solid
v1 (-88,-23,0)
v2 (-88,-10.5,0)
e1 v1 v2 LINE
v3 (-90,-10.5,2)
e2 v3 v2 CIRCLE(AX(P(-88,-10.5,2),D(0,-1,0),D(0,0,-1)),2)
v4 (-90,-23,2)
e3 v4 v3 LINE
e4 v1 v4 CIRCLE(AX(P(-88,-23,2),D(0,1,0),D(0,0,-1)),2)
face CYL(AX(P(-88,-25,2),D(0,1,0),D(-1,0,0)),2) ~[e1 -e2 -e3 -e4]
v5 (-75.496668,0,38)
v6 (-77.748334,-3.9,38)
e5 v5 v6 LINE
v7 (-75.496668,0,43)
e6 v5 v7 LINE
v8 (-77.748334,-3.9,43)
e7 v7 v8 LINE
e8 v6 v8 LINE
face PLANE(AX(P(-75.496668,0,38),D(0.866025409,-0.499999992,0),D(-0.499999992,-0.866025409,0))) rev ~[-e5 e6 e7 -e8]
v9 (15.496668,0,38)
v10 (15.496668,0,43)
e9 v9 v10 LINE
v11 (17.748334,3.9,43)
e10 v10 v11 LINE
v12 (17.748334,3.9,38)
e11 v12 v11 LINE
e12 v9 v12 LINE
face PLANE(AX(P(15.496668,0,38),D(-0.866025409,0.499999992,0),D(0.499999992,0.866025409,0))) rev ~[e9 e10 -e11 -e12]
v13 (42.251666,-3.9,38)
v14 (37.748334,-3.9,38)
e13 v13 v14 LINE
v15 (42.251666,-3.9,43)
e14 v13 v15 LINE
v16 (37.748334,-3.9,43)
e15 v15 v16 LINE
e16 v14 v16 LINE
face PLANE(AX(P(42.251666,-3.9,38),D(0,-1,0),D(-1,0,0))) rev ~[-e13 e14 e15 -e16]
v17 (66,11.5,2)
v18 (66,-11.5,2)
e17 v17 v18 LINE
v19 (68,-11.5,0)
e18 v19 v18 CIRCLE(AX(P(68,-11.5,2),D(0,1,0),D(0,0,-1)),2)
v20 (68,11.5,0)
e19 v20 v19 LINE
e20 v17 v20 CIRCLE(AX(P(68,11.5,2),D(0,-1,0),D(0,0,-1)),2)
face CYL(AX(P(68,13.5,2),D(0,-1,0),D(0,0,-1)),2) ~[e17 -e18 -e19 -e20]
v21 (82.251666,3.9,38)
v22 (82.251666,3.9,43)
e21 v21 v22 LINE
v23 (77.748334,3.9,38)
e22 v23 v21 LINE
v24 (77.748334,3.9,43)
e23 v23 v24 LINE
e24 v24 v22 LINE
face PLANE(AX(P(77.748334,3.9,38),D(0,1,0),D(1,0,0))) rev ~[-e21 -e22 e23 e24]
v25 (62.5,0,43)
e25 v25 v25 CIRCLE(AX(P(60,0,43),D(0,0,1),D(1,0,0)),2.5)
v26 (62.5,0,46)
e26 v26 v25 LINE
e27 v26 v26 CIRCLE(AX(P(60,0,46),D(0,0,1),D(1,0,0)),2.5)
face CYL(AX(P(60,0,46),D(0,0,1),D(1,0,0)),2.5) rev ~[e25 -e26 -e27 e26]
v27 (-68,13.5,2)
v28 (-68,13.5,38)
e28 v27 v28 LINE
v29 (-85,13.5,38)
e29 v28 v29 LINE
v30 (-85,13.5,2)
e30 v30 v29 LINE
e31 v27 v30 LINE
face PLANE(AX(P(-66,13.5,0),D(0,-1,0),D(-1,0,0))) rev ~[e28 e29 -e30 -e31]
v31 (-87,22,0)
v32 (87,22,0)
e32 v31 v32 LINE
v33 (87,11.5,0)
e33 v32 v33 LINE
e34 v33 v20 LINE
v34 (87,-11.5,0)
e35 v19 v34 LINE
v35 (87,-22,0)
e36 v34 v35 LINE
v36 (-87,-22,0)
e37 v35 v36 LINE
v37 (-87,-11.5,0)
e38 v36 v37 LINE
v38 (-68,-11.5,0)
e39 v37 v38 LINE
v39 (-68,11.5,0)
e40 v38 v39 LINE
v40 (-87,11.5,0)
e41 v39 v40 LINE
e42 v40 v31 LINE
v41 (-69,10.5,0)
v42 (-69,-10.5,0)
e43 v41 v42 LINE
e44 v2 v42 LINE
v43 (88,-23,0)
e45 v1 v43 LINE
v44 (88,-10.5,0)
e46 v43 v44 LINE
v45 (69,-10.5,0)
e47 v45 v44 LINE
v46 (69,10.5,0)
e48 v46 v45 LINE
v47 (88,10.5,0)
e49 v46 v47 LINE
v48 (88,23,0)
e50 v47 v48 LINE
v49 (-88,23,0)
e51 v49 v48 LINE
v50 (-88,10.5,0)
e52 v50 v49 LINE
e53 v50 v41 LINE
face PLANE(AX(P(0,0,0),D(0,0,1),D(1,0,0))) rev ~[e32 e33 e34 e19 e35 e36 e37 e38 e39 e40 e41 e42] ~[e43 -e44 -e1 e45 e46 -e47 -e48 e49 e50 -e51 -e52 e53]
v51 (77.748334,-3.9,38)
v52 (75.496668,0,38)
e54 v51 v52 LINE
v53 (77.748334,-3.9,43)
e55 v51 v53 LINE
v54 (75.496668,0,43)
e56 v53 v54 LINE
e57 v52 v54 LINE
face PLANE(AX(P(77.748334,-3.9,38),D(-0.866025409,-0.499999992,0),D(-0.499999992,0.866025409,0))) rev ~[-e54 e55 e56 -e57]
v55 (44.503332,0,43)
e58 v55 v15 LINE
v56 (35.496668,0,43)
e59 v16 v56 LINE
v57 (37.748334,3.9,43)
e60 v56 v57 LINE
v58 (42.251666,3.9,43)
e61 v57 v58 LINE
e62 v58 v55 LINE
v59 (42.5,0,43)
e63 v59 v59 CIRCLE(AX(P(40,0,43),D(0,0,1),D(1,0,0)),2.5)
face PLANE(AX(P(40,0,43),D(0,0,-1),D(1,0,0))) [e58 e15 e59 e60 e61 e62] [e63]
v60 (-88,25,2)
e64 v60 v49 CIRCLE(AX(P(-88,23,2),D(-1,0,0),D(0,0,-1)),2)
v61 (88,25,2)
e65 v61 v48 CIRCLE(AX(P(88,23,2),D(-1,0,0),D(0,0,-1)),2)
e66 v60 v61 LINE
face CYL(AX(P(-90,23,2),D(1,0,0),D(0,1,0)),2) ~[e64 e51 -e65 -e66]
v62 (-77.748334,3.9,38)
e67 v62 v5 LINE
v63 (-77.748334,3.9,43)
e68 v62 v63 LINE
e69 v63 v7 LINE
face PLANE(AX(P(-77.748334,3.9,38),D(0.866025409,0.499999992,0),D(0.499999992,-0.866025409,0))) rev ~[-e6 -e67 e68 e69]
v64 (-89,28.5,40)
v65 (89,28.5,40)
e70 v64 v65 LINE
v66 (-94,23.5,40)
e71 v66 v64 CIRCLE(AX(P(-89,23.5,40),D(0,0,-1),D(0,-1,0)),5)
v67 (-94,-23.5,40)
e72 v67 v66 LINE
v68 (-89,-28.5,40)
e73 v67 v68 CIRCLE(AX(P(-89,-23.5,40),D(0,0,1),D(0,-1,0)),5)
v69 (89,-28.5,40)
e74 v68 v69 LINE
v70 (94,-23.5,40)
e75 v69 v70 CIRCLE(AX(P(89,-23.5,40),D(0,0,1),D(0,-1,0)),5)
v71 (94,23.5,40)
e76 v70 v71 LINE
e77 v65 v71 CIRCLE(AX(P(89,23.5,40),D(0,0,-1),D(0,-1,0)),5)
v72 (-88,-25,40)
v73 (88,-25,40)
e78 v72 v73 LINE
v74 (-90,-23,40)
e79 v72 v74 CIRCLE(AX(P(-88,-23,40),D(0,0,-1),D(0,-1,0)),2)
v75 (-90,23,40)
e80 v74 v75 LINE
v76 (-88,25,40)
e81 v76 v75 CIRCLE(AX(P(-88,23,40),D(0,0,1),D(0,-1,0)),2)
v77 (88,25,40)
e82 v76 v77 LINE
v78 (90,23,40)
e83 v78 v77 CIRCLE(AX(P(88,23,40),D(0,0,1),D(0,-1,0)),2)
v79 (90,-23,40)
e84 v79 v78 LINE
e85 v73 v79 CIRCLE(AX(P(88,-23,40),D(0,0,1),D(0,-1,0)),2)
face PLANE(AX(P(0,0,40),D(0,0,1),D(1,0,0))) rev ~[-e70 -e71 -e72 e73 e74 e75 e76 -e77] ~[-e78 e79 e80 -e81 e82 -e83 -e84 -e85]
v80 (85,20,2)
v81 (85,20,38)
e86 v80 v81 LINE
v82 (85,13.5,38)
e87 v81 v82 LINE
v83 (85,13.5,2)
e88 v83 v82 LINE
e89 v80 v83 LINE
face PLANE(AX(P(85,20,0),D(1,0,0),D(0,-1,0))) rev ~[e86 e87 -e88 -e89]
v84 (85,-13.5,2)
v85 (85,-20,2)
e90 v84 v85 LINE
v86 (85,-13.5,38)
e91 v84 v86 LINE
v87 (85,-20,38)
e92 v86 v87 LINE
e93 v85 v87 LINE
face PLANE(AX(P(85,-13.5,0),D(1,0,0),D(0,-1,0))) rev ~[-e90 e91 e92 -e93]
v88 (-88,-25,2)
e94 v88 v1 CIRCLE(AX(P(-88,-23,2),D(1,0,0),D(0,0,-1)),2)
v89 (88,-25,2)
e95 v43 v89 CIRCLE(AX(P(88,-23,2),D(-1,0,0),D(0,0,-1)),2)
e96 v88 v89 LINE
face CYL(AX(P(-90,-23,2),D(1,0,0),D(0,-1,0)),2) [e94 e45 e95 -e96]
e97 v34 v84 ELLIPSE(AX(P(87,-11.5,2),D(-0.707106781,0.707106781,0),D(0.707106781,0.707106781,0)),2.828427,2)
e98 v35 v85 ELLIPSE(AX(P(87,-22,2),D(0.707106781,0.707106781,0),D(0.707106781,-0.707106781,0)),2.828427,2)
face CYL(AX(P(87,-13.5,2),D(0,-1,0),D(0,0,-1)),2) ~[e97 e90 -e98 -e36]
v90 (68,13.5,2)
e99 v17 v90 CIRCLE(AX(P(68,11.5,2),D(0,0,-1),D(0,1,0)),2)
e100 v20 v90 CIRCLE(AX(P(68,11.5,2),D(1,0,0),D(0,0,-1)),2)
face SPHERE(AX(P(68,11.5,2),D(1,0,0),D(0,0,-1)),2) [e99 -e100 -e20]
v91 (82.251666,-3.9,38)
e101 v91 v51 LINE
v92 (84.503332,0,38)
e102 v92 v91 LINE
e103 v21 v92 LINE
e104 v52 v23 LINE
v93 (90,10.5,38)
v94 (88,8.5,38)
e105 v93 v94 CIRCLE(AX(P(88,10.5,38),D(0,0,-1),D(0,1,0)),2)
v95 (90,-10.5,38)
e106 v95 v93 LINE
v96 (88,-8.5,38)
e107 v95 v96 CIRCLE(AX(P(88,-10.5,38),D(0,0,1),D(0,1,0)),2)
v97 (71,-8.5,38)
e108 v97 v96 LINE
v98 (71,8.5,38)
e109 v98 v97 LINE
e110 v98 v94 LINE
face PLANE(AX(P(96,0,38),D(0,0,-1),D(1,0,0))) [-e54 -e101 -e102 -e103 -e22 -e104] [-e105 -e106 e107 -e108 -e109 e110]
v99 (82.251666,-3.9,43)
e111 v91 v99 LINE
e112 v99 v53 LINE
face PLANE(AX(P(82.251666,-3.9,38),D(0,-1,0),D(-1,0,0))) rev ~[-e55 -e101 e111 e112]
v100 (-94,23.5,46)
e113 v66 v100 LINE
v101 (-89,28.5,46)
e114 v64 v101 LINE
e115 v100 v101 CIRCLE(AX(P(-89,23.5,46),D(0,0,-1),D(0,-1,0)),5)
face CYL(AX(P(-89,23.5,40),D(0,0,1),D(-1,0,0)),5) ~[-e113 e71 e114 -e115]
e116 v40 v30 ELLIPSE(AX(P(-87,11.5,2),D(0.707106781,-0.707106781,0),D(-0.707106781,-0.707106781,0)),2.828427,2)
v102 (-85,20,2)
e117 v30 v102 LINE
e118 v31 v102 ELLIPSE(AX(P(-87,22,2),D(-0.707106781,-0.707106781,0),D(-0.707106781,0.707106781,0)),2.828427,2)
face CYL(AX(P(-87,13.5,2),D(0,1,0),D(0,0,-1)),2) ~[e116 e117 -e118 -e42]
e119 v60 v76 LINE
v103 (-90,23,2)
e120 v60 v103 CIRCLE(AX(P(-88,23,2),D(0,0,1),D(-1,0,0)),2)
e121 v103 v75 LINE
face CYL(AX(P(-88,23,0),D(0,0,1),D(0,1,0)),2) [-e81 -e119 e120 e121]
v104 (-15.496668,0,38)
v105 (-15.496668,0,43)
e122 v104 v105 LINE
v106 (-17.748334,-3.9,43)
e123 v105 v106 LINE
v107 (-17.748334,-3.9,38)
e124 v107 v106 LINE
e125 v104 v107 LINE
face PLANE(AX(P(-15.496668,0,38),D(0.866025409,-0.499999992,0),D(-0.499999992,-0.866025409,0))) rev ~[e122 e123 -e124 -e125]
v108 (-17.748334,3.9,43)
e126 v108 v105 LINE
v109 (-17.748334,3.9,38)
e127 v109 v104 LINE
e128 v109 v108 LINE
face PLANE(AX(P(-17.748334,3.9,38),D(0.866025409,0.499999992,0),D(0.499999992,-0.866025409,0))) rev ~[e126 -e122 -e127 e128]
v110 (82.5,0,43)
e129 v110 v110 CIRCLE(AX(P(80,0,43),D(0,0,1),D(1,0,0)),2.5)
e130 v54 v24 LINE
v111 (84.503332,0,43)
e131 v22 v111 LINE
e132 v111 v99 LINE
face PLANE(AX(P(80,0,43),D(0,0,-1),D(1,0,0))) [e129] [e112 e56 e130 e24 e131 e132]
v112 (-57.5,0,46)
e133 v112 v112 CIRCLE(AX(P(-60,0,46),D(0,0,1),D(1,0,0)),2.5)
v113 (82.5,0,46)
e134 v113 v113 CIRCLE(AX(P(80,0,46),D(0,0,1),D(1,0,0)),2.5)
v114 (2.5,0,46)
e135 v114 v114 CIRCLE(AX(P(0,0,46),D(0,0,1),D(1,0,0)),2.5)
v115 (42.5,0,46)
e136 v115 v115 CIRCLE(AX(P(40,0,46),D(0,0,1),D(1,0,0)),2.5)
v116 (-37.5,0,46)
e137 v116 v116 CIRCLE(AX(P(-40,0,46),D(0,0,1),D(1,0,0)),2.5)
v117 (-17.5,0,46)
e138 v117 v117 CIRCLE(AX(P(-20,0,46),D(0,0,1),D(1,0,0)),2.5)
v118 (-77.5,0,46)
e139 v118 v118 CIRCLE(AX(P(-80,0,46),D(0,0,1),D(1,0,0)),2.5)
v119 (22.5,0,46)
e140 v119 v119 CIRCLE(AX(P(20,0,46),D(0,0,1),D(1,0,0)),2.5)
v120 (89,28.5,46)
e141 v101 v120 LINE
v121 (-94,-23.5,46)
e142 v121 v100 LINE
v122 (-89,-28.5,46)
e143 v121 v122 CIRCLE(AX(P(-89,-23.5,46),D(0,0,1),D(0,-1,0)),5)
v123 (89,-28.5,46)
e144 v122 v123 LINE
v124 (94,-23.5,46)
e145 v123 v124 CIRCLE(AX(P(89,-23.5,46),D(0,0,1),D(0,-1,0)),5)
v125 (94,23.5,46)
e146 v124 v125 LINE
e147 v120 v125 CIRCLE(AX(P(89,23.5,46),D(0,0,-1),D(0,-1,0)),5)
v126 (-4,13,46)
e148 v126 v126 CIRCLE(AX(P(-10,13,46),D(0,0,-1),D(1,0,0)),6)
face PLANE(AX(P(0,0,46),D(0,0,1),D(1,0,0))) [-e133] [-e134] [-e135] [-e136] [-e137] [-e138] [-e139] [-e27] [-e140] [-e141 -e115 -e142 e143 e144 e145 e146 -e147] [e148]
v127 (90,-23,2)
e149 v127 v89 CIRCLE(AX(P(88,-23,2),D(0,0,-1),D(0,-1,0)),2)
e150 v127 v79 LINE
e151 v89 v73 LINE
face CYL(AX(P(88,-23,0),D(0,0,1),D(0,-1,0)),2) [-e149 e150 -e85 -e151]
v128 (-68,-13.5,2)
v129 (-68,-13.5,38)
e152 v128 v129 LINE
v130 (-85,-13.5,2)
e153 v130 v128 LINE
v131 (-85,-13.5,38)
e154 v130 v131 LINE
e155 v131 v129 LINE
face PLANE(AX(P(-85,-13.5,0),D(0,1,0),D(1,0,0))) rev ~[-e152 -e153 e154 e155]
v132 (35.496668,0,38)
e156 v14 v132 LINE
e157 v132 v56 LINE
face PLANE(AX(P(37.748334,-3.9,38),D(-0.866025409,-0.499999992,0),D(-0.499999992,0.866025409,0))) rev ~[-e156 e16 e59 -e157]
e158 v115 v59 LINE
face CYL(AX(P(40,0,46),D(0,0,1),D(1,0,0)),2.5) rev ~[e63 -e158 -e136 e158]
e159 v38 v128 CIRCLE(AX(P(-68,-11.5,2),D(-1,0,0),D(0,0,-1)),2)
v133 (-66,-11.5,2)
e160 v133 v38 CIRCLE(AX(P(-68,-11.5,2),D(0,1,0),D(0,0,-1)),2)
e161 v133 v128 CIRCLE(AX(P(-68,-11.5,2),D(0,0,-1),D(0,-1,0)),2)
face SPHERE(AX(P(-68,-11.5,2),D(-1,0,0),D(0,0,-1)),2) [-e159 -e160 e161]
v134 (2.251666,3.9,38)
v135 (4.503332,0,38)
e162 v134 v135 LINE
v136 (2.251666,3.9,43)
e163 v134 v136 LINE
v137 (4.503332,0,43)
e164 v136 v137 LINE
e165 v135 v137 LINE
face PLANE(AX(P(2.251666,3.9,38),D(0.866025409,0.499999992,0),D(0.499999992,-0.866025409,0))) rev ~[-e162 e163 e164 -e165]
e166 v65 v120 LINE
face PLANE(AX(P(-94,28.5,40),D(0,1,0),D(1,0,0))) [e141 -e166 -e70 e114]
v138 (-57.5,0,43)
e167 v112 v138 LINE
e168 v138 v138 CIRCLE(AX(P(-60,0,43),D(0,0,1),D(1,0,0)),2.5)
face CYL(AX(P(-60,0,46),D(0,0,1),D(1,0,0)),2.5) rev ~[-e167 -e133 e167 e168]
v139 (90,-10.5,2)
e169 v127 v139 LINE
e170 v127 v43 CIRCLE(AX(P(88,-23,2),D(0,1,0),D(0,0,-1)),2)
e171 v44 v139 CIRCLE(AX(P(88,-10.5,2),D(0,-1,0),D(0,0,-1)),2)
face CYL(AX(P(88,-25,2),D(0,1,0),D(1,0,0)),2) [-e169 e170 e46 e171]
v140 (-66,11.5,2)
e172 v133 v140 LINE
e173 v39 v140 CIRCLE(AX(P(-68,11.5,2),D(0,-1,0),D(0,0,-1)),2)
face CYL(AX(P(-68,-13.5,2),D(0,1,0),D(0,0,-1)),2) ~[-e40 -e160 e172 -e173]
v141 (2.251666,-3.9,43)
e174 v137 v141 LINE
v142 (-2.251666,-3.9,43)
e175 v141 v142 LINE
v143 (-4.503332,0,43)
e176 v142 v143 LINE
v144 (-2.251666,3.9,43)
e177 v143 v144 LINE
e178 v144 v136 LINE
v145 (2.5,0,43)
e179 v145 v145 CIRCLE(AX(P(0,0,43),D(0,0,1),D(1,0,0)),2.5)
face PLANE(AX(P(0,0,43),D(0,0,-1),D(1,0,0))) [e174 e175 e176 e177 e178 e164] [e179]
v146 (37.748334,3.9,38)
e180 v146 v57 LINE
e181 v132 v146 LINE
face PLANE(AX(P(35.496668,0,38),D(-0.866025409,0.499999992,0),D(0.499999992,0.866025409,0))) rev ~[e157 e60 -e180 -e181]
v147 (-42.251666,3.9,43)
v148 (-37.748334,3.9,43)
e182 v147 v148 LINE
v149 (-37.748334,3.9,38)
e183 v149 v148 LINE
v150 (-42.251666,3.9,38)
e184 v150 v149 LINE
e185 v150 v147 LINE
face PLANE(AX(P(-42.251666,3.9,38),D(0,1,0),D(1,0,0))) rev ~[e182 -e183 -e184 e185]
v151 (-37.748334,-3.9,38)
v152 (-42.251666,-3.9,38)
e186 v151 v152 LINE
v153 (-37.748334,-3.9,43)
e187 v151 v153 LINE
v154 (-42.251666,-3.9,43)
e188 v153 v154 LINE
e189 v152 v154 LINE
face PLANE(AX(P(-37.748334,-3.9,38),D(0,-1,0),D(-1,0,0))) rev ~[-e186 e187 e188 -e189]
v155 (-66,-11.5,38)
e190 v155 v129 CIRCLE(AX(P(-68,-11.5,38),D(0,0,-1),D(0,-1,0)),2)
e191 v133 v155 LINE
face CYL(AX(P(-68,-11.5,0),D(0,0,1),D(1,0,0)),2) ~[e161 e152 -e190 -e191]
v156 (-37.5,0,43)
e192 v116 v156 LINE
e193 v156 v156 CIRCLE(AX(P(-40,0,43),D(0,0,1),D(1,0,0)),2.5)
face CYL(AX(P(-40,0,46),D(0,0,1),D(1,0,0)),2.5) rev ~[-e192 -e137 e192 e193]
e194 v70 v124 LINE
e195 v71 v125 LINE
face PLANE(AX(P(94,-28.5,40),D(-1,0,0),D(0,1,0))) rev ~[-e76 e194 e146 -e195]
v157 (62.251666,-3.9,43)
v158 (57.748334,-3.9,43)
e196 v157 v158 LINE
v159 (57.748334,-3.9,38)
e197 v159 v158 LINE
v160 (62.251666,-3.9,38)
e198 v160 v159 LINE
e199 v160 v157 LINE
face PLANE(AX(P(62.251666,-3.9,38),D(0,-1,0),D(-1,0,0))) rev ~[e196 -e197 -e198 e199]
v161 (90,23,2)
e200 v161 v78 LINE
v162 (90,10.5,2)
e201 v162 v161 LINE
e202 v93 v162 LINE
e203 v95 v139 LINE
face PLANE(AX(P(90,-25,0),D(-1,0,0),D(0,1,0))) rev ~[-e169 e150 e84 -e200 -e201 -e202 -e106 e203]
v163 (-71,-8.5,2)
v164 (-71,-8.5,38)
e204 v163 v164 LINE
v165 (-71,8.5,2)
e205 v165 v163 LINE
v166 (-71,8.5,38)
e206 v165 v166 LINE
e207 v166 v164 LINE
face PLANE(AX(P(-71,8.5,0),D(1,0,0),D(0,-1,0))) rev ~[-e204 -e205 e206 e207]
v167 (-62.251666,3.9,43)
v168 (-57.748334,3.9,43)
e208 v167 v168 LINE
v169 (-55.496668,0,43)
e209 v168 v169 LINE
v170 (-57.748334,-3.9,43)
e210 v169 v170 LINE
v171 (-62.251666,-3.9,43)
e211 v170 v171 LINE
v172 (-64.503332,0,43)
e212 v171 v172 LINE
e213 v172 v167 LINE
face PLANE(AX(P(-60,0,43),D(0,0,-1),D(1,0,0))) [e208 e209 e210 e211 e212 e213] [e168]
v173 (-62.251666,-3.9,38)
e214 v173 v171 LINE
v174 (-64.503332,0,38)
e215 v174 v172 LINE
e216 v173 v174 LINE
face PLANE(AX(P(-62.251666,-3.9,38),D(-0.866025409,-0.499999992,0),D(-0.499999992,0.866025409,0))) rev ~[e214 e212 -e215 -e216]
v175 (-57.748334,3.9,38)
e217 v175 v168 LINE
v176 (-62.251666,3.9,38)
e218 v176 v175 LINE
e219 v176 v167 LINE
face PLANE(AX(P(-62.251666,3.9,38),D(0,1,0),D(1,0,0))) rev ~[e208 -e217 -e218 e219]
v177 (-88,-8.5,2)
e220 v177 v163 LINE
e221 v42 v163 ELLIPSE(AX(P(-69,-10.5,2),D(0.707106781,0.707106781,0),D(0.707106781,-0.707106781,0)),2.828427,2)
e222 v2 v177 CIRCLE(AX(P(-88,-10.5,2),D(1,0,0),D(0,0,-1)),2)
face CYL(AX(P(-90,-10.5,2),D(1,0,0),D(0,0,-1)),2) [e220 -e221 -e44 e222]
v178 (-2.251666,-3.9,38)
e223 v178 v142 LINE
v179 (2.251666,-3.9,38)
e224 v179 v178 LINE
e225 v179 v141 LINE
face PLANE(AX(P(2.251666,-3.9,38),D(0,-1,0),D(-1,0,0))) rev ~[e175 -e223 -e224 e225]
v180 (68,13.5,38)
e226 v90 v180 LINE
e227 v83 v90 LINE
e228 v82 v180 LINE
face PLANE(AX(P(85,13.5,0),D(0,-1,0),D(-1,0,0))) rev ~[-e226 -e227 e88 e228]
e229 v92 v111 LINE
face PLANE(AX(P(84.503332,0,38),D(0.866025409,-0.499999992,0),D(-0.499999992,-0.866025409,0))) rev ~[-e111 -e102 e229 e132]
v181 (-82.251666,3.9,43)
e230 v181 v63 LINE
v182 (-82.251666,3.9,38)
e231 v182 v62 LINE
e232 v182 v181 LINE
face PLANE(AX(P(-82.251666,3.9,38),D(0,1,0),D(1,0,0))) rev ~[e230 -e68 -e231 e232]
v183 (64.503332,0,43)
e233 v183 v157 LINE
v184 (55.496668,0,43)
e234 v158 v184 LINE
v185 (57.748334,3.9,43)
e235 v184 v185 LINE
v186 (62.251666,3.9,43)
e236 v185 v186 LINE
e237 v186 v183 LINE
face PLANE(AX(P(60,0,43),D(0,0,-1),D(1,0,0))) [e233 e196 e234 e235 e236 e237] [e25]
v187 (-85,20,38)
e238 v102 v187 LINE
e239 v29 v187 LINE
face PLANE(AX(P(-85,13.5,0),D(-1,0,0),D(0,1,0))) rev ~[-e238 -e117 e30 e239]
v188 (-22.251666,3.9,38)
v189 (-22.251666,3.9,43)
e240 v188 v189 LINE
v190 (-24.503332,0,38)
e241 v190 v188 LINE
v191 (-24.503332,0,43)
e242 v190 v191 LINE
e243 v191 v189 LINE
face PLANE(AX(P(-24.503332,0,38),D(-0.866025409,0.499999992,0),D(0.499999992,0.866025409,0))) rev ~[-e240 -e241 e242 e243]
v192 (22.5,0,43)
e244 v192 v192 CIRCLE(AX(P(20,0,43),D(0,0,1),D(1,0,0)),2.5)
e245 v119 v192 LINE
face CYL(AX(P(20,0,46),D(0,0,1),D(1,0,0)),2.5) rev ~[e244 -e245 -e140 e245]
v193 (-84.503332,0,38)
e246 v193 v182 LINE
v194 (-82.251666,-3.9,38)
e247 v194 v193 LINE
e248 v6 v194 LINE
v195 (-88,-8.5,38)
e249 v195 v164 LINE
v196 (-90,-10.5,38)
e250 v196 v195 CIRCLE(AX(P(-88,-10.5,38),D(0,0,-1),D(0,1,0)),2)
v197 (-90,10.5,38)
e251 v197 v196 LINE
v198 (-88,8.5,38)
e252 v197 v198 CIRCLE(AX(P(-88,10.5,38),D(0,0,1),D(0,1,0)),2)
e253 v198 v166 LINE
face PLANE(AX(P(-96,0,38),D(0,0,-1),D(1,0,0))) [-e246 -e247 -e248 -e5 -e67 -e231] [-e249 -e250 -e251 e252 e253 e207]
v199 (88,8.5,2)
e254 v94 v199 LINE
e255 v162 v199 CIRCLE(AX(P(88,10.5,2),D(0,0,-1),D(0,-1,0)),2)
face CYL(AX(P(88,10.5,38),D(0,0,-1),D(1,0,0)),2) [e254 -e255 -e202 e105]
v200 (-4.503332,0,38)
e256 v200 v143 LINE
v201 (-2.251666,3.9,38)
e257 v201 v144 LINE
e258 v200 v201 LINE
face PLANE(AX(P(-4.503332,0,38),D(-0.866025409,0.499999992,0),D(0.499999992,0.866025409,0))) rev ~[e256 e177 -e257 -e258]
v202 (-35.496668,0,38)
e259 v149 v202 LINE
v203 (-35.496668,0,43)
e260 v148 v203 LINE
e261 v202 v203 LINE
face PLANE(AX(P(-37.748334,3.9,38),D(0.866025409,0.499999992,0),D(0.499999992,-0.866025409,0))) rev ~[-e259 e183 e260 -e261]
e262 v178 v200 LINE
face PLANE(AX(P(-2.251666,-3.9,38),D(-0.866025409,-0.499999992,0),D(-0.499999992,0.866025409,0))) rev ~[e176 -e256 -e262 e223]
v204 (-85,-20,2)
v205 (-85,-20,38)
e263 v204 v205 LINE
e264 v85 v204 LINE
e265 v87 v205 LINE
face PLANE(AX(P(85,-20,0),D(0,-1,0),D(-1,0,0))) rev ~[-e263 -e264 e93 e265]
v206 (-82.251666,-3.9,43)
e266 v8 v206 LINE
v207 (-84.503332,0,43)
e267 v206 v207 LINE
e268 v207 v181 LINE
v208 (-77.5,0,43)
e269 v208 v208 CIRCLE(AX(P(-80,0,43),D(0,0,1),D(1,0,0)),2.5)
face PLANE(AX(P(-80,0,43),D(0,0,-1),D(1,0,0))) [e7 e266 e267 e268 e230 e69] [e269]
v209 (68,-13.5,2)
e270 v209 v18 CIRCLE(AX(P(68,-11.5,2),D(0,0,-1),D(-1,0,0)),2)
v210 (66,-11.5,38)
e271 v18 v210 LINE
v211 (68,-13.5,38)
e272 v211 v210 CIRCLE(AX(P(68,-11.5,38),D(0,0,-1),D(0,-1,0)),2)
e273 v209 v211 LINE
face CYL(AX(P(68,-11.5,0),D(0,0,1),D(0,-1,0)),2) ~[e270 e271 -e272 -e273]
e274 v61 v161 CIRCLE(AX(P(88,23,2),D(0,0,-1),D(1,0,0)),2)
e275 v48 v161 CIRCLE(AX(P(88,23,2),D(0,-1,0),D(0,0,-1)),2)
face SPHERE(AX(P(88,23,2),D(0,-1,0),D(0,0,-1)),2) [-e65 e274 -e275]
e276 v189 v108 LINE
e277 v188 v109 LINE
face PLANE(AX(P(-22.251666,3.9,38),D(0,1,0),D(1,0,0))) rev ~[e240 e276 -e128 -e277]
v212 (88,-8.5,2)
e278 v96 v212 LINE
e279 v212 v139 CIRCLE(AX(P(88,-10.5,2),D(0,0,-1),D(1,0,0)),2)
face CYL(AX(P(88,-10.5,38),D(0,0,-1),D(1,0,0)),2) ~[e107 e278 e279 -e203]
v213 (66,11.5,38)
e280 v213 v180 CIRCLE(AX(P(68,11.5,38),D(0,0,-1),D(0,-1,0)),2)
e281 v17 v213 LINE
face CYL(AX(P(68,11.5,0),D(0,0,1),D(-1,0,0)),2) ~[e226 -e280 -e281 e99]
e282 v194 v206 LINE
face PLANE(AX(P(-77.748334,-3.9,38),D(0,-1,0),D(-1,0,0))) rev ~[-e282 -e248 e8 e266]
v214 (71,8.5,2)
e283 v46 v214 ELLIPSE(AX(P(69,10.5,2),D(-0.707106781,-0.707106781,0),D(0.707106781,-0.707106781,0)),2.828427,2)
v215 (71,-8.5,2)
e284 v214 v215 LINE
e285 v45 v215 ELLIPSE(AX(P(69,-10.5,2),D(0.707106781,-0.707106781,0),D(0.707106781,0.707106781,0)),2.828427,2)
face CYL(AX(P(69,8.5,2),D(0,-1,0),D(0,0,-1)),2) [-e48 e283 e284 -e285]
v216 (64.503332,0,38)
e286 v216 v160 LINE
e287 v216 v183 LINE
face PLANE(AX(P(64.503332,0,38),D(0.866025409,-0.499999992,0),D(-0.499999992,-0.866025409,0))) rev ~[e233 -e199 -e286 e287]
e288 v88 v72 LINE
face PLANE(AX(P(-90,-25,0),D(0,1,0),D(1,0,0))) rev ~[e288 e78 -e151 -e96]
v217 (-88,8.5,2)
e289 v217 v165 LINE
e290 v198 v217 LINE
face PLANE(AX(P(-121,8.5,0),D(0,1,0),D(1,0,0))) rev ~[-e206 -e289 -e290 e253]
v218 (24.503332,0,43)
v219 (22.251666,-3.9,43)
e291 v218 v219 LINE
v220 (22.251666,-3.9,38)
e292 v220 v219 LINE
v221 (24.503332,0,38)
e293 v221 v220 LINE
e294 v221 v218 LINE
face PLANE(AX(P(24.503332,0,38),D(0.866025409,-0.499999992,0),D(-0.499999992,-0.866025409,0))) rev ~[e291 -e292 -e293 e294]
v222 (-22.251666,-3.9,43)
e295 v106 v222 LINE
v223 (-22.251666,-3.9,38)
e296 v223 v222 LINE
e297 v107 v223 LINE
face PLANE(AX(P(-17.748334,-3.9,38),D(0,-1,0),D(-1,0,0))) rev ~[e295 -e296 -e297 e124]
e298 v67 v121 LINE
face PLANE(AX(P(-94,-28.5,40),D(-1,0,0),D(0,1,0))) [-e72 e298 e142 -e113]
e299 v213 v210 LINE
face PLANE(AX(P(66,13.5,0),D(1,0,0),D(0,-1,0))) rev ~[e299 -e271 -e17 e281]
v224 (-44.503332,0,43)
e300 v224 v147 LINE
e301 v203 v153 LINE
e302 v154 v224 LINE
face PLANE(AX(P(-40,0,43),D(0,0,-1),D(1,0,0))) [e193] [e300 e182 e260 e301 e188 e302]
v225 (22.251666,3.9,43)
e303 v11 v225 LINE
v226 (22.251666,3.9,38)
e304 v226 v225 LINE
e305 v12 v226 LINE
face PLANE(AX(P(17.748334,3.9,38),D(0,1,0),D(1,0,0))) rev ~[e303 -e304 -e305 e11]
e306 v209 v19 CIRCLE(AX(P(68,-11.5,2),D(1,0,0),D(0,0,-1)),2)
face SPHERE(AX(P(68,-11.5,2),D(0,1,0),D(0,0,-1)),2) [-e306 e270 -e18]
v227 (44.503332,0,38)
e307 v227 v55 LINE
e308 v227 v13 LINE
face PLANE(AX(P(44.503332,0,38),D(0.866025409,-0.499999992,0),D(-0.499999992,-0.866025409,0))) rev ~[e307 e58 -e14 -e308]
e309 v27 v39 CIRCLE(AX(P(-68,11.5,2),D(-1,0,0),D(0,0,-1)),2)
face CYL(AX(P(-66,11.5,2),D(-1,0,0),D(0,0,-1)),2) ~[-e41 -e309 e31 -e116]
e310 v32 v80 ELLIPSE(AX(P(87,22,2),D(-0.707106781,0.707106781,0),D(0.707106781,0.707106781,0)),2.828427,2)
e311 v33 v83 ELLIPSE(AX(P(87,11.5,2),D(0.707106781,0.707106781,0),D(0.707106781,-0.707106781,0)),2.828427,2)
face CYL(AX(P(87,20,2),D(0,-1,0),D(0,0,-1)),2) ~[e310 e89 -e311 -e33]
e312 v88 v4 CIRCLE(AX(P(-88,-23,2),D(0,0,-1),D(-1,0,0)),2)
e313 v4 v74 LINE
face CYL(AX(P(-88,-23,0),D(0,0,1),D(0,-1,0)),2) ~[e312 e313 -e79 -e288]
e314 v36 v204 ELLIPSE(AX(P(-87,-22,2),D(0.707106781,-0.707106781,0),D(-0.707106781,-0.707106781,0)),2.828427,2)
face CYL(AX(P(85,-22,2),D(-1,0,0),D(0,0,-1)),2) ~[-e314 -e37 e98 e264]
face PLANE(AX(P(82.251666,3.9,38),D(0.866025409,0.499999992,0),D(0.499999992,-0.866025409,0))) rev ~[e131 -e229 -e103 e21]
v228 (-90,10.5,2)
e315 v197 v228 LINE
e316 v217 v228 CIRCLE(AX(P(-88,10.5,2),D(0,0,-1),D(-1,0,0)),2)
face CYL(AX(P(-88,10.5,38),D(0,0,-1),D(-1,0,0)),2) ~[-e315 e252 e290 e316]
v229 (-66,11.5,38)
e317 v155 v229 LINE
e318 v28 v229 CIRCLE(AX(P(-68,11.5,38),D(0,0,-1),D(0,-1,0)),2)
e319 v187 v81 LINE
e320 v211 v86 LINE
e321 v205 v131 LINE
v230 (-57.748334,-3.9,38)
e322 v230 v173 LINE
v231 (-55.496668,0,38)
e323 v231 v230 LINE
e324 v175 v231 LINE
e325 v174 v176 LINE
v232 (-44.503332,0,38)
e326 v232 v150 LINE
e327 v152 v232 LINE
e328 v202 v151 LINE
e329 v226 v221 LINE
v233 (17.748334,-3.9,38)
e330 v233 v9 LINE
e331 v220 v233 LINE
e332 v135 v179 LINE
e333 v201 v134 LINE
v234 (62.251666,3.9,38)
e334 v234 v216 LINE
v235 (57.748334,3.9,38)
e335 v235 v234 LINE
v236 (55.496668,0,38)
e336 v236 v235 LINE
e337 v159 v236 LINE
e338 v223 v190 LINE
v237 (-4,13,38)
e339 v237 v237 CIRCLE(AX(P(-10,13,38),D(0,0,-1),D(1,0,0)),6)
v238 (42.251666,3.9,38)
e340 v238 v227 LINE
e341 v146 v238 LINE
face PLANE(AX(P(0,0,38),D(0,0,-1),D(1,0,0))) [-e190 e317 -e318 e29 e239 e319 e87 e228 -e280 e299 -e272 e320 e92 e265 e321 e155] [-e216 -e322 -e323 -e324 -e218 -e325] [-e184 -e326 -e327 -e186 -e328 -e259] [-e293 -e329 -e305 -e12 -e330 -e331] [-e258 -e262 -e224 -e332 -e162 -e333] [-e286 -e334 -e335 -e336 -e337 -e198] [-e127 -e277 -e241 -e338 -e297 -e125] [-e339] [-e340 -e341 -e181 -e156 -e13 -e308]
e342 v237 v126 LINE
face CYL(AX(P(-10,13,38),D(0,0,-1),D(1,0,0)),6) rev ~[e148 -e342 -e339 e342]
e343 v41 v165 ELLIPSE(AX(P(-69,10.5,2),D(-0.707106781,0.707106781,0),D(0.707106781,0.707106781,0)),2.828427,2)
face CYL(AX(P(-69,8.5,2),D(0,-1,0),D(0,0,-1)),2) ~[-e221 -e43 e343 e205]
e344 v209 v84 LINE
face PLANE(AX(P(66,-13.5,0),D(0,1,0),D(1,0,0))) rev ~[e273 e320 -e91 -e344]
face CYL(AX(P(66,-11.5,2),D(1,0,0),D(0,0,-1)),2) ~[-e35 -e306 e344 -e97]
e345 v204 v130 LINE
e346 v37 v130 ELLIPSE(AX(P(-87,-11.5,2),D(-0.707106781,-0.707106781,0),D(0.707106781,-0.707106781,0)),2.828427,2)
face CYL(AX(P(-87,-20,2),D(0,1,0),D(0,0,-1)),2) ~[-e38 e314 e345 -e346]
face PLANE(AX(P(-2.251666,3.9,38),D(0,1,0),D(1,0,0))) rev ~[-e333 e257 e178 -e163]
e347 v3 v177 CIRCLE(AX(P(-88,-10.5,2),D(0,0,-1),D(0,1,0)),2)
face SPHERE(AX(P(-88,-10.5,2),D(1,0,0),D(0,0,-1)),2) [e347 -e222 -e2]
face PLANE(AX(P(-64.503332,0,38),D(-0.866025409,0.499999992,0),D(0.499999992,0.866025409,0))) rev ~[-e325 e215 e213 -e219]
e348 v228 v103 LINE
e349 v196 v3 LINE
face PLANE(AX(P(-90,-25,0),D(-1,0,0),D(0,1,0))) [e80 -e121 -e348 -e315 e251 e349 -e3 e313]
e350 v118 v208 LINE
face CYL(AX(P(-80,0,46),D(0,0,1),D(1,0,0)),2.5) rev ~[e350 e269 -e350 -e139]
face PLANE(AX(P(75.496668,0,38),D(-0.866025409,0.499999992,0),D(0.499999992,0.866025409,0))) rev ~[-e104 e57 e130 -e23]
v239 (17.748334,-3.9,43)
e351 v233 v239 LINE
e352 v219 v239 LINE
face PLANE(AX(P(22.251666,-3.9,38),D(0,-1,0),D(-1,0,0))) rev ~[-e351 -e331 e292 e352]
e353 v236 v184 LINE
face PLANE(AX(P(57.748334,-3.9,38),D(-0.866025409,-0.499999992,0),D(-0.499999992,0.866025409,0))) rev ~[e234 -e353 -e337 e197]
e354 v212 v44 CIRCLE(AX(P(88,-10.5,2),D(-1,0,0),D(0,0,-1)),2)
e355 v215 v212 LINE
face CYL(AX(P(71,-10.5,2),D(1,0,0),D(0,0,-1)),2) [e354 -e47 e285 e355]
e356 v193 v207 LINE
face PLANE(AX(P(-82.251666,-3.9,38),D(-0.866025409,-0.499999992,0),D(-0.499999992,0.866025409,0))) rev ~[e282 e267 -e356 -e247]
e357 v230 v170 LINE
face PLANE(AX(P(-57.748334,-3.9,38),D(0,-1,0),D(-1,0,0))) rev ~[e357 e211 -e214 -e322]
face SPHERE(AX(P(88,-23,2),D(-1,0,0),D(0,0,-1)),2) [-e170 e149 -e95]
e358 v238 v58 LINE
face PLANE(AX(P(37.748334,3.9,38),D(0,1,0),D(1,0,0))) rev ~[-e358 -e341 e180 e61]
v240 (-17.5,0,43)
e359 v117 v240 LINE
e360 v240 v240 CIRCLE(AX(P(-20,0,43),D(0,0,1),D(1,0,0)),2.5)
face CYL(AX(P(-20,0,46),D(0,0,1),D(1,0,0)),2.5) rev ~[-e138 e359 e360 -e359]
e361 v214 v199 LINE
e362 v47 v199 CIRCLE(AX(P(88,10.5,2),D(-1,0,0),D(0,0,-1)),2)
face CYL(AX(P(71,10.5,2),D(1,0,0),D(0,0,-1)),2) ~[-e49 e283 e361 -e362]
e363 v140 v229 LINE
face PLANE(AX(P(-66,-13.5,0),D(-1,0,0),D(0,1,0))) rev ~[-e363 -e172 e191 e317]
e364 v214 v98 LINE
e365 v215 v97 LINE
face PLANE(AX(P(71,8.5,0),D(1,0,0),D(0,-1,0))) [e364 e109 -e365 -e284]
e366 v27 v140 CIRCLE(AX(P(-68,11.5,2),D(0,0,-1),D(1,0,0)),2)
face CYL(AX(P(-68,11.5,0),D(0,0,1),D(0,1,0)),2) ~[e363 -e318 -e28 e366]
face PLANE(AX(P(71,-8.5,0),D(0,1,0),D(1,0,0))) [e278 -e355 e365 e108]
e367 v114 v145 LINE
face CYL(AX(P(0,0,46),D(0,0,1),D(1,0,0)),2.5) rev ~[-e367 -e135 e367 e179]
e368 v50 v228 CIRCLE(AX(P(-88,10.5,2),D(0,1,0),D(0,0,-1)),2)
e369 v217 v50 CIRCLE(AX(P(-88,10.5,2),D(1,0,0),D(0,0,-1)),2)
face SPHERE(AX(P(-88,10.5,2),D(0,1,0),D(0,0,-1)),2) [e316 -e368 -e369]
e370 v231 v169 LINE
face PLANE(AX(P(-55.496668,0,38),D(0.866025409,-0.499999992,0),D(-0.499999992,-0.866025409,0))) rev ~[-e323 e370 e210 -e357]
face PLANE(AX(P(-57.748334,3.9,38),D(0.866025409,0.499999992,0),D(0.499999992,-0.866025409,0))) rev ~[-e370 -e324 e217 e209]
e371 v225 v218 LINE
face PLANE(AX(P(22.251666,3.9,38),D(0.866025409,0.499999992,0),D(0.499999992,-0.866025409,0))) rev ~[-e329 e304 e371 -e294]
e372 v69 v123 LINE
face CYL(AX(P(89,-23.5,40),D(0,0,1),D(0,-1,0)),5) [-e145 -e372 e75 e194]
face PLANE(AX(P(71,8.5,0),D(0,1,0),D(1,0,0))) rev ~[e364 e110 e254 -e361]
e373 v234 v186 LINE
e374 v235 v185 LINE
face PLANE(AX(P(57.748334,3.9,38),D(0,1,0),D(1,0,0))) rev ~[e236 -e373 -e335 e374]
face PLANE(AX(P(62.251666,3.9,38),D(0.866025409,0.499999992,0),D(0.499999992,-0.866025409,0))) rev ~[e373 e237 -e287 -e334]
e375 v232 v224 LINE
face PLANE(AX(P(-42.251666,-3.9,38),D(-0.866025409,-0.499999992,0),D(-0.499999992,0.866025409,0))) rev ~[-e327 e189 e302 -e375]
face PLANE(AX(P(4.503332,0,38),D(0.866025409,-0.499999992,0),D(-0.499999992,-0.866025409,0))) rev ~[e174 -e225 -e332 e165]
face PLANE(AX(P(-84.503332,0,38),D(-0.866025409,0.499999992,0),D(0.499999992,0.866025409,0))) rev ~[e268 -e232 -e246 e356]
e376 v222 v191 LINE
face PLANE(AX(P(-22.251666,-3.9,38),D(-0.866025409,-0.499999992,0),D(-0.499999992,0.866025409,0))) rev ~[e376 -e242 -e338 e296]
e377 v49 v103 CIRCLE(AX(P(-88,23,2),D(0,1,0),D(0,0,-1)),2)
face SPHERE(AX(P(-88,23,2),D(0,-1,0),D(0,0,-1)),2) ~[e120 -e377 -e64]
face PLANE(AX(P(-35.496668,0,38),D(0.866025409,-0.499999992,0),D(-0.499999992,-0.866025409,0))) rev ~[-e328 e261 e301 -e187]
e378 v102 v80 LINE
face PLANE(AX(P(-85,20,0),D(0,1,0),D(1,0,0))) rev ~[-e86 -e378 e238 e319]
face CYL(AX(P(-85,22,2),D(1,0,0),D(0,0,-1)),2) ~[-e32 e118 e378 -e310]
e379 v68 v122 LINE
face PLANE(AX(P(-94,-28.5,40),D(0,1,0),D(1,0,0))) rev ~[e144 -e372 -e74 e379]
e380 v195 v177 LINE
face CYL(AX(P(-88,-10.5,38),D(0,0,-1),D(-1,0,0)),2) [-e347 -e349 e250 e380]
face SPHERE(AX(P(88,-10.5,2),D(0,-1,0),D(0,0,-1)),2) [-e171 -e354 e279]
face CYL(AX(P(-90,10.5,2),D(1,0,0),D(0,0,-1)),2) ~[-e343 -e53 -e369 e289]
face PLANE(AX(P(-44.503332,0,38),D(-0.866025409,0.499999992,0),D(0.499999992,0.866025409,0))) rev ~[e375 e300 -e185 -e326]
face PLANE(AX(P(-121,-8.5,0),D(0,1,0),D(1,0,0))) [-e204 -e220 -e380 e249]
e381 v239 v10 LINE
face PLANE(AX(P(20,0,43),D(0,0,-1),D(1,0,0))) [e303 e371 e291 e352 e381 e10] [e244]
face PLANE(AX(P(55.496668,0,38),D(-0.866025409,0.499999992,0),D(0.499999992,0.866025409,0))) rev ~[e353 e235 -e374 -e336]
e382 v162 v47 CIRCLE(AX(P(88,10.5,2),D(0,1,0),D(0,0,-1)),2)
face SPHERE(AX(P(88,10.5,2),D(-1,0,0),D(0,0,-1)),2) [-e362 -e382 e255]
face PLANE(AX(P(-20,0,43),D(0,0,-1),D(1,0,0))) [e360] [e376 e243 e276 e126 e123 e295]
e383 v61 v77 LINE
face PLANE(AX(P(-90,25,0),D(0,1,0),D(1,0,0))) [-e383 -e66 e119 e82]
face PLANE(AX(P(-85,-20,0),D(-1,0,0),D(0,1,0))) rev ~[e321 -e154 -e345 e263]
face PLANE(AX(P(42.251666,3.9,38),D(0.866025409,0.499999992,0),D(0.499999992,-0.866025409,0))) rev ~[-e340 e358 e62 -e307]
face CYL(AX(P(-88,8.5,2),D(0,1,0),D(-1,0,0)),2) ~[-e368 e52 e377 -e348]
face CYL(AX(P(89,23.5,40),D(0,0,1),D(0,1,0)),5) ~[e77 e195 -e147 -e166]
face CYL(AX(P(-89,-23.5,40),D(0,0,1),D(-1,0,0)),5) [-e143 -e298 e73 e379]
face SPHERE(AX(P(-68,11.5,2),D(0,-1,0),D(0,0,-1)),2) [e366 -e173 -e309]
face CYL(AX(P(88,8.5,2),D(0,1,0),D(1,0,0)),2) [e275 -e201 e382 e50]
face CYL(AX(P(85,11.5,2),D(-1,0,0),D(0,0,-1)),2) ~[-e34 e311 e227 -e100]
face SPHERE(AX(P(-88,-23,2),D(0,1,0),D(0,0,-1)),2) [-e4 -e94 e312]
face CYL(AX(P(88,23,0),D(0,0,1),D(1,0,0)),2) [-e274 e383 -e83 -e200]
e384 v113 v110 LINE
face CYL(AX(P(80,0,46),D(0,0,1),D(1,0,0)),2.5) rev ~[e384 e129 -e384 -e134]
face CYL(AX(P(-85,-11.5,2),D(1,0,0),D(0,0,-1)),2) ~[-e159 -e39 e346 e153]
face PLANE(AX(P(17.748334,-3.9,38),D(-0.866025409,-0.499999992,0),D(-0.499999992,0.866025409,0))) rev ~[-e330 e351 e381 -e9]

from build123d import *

# Parameters (mm, degrees)
SKETCH_W        = 180
SKETCH_H        = 50
PAD_DEPTH       = 40
SKETCH001_W     = 188
SKETCH001_H     = 57
PAD001_DEPTH    = 6
SKETCH003_W     = 50
SKETCH003_H     = 17
POCKET_DEPTH    = 38
SKETCH004_R     = 2.5
POCKET001_DEPTH = 46.001
FILLET_R        = 5
FILLET001_R     = 2
POCKET002_DEPTH = 5
SKETCH006_R     = 6
POCKET003_DEPTH = 8.001


with BuildPart() as part:
    # Sketch → Pad (new body)
    with BuildSketch(Plane.XY):
        Rectangle(SKETCH_W, SKETCH_H)
    extrude(amount=PAD_DEPTH)

    # Sketch001 (on Face6 of Pad) → Pad001 (join)
    with BuildSketch(Plane.XY.offset(40)):
        Rectangle(SKETCH001_W, SKETCH001_H)
    extrude(amount=PAD001_DEPTH)

    # Sketch003 (on Face11 of Pad001) → Pocket (cut)
    with BuildSketch(Plane(origin=(0, 0, 0), x_dir=(1, 0, 0), z_dir=(0, 0, -1))):
        Polygon((-85, -20), (85, -20), (85, -13.5), (66, -13.5), (66, 13.5), (85, 13.5), (85, 20), (-85, 20), (-85, 13.5), (-66, 13.5), (-66, -13.5), (-85, -13.5), align=None)
        with Locations((-96, 0)):
            Rectangle(SKETCH003_W, SKETCH003_H)
        with Locations((96, 0)):
            Rectangle(SKETCH003_W, SKETCH003_H)
    extrude(amount=-POCKET_DEPTH, mode=Mode.SUBTRACT)

    # Sketch004 (on Face5 of Pocket) → Pocket001 (cut, through all)
    with BuildSketch(Plane.XY.offset(46)):
        with Locations((-80, 0)):
            Circle(SKETCH004_R)
        with Locations((-60, 0)):
            Circle(SKETCH004_R)
        with Locations((-40, 0)):
            Circle(SKETCH004_R)
        with Locations((-20, 0)):
            Circle(SKETCH004_R)
        Circle(SKETCH004_R)
        with Locations((20, 0)):
            Circle(SKETCH004_R)
        with Locations((40, 0)):
            Circle(SKETCH004_R)
        with Locations((60, 0)):
            Circle(SKETCH004_R)
        with Locations((80, 0)):
            Circle(SKETCH004_R)
    extrude(amount=-POCKET001_DEPTH, mode=Mode.SUBTRACT)

    # Fillet
    fillet_edges = [part.edges().sort_by_distance(p)[0] for p in [
        (94, 28.5, 43),
        (94, -28.5, 43),
        (-94, -28.5, 43),
        (-94, 28.5, 43),
    ]]
    fillet(fillet_edges, radius=FILLET_R)

    # Fillet001
    fillet001_edges = [part.edges().sort_by_distance(p)[0] for p in [
        (-90, 16.75, 0),
        (-80.5, 8.5, 0),
        (-71, 0, 0),
        (-80.5, -8.5, 0),
        (-90, -16.75, 0),
        (0, -25, 0),
        (90, -16.75, 0),
        (80.5, -8.5, 0),
        (71, 0, 0),
        (80.5, 8.5, 0),
        (90, 16.75, 0),
        (0, 25, 0),
        (-75.5, -13.5, 0),
        (-66, 0, 0),
        (-75.5, 13.5, 0),
        (-85, 16.75, 0),
        (0, 20, 0),
        (85, 16.75, 0),
        (75.5, 13.5, 0),
        (66, 0, 0),
        (75.5, -13.5, 0),
        (85, -16.75, 0),
        (0, -20, 0),
        (-85, -16.75, 0),
        (-90, -8.5, 19),
        (-90, 25, 20),
        (-90, 8.5, 19),
        (90, -25, 20),
        (-90, -25, 20),
        (90, 25, 20),
        (90, -8.5, 19),
        (90, 8.5, 19),
        (-66, 13.5, 19),
        (-66, -13.5, 19),
        (66, -13.5, 19),
        (66, 13.5, 19),
    ]]
    fillet(fillet001_edges, radius=FILLET001_R)

    # Sketch005 (on Face73 of Fillet001) → Pocket002 (cut)
    with BuildSketch(Plane(origin=(0, 0, 38), x_dir=(1, 0, 0), z_dir=(0, 0, -1))):
        Polygon((-77.748334, -3.9), (-75.496668, 0), (-77.748334, 3.9), (-82.251666, 3.9), (-84.503332, 0), (-82.251666, -3.9), align=None)
        Polygon((-57.748334, -3.9), (-55.496668, 0), (-57.748334, 3.9), (-62.251666, 3.9), (-64.503332, 0), (-62.251666, -3.9), align=None)
        Polygon((-37.748334, -3.9), (-35.496668, 0), (-37.748334, 3.9), (-42.251666, 3.9), (-44.503332, 0), (-42.251666, -3.9), align=None)
        Polygon((-17.748334, -3.9), (-15.496668, 0), (-17.748334, 3.9), (-22.251666, 3.9), (-24.503332, 0), (-22.251666, -3.9), align=None)
        Polygon((2.251666, -3.9), (4.503332, 0), (2.251666, 3.9), (-2.251666, 3.9), (-4.503332, 0), (-2.251666, -3.9), align=None)
        Polygon((22.251666, -3.9), (24.503332, 0), (22.251666, 3.9), (17.748334, 3.9), (15.496668, 0), (17.748334, -3.9), align=None)
        Polygon((42.251666, -3.9), (44.503332, 0), (42.251666, 3.9), (37.748334, 3.9), (35.496668, 0), (37.748334, -3.9), align=None)
        Polygon((62.251666, -3.9), (64.503332, 0), (62.251666, 3.9), (57.748334, 3.9), (55.496668, 0), (57.748334, -3.9), align=None)
        Polygon((82.251666, -3.9), (84.503332, 0), (82.251666, 3.9), (77.748334, 3.9), (75.496668, 0), (77.748334, -3.9), align=None)
    extrude(amount=-POCKET002_DEPTH, mode=Mode.SUBTRACT)

    # Sketch006 (on Face152 of Pocket002) → Pocket003 (cut, through all)
    with BuildSketch(Plane(origin=(0, 0, 38), x_dir=(1, 0, 0), z_dir=(0, 0, -1))):
        with Locations((-10, -13)):
            Circle(SKETCH006_R)
    extrude(amount=-POCKET003_DEPTH, mode=Mode.SUBTRACT)


solid = part.part
